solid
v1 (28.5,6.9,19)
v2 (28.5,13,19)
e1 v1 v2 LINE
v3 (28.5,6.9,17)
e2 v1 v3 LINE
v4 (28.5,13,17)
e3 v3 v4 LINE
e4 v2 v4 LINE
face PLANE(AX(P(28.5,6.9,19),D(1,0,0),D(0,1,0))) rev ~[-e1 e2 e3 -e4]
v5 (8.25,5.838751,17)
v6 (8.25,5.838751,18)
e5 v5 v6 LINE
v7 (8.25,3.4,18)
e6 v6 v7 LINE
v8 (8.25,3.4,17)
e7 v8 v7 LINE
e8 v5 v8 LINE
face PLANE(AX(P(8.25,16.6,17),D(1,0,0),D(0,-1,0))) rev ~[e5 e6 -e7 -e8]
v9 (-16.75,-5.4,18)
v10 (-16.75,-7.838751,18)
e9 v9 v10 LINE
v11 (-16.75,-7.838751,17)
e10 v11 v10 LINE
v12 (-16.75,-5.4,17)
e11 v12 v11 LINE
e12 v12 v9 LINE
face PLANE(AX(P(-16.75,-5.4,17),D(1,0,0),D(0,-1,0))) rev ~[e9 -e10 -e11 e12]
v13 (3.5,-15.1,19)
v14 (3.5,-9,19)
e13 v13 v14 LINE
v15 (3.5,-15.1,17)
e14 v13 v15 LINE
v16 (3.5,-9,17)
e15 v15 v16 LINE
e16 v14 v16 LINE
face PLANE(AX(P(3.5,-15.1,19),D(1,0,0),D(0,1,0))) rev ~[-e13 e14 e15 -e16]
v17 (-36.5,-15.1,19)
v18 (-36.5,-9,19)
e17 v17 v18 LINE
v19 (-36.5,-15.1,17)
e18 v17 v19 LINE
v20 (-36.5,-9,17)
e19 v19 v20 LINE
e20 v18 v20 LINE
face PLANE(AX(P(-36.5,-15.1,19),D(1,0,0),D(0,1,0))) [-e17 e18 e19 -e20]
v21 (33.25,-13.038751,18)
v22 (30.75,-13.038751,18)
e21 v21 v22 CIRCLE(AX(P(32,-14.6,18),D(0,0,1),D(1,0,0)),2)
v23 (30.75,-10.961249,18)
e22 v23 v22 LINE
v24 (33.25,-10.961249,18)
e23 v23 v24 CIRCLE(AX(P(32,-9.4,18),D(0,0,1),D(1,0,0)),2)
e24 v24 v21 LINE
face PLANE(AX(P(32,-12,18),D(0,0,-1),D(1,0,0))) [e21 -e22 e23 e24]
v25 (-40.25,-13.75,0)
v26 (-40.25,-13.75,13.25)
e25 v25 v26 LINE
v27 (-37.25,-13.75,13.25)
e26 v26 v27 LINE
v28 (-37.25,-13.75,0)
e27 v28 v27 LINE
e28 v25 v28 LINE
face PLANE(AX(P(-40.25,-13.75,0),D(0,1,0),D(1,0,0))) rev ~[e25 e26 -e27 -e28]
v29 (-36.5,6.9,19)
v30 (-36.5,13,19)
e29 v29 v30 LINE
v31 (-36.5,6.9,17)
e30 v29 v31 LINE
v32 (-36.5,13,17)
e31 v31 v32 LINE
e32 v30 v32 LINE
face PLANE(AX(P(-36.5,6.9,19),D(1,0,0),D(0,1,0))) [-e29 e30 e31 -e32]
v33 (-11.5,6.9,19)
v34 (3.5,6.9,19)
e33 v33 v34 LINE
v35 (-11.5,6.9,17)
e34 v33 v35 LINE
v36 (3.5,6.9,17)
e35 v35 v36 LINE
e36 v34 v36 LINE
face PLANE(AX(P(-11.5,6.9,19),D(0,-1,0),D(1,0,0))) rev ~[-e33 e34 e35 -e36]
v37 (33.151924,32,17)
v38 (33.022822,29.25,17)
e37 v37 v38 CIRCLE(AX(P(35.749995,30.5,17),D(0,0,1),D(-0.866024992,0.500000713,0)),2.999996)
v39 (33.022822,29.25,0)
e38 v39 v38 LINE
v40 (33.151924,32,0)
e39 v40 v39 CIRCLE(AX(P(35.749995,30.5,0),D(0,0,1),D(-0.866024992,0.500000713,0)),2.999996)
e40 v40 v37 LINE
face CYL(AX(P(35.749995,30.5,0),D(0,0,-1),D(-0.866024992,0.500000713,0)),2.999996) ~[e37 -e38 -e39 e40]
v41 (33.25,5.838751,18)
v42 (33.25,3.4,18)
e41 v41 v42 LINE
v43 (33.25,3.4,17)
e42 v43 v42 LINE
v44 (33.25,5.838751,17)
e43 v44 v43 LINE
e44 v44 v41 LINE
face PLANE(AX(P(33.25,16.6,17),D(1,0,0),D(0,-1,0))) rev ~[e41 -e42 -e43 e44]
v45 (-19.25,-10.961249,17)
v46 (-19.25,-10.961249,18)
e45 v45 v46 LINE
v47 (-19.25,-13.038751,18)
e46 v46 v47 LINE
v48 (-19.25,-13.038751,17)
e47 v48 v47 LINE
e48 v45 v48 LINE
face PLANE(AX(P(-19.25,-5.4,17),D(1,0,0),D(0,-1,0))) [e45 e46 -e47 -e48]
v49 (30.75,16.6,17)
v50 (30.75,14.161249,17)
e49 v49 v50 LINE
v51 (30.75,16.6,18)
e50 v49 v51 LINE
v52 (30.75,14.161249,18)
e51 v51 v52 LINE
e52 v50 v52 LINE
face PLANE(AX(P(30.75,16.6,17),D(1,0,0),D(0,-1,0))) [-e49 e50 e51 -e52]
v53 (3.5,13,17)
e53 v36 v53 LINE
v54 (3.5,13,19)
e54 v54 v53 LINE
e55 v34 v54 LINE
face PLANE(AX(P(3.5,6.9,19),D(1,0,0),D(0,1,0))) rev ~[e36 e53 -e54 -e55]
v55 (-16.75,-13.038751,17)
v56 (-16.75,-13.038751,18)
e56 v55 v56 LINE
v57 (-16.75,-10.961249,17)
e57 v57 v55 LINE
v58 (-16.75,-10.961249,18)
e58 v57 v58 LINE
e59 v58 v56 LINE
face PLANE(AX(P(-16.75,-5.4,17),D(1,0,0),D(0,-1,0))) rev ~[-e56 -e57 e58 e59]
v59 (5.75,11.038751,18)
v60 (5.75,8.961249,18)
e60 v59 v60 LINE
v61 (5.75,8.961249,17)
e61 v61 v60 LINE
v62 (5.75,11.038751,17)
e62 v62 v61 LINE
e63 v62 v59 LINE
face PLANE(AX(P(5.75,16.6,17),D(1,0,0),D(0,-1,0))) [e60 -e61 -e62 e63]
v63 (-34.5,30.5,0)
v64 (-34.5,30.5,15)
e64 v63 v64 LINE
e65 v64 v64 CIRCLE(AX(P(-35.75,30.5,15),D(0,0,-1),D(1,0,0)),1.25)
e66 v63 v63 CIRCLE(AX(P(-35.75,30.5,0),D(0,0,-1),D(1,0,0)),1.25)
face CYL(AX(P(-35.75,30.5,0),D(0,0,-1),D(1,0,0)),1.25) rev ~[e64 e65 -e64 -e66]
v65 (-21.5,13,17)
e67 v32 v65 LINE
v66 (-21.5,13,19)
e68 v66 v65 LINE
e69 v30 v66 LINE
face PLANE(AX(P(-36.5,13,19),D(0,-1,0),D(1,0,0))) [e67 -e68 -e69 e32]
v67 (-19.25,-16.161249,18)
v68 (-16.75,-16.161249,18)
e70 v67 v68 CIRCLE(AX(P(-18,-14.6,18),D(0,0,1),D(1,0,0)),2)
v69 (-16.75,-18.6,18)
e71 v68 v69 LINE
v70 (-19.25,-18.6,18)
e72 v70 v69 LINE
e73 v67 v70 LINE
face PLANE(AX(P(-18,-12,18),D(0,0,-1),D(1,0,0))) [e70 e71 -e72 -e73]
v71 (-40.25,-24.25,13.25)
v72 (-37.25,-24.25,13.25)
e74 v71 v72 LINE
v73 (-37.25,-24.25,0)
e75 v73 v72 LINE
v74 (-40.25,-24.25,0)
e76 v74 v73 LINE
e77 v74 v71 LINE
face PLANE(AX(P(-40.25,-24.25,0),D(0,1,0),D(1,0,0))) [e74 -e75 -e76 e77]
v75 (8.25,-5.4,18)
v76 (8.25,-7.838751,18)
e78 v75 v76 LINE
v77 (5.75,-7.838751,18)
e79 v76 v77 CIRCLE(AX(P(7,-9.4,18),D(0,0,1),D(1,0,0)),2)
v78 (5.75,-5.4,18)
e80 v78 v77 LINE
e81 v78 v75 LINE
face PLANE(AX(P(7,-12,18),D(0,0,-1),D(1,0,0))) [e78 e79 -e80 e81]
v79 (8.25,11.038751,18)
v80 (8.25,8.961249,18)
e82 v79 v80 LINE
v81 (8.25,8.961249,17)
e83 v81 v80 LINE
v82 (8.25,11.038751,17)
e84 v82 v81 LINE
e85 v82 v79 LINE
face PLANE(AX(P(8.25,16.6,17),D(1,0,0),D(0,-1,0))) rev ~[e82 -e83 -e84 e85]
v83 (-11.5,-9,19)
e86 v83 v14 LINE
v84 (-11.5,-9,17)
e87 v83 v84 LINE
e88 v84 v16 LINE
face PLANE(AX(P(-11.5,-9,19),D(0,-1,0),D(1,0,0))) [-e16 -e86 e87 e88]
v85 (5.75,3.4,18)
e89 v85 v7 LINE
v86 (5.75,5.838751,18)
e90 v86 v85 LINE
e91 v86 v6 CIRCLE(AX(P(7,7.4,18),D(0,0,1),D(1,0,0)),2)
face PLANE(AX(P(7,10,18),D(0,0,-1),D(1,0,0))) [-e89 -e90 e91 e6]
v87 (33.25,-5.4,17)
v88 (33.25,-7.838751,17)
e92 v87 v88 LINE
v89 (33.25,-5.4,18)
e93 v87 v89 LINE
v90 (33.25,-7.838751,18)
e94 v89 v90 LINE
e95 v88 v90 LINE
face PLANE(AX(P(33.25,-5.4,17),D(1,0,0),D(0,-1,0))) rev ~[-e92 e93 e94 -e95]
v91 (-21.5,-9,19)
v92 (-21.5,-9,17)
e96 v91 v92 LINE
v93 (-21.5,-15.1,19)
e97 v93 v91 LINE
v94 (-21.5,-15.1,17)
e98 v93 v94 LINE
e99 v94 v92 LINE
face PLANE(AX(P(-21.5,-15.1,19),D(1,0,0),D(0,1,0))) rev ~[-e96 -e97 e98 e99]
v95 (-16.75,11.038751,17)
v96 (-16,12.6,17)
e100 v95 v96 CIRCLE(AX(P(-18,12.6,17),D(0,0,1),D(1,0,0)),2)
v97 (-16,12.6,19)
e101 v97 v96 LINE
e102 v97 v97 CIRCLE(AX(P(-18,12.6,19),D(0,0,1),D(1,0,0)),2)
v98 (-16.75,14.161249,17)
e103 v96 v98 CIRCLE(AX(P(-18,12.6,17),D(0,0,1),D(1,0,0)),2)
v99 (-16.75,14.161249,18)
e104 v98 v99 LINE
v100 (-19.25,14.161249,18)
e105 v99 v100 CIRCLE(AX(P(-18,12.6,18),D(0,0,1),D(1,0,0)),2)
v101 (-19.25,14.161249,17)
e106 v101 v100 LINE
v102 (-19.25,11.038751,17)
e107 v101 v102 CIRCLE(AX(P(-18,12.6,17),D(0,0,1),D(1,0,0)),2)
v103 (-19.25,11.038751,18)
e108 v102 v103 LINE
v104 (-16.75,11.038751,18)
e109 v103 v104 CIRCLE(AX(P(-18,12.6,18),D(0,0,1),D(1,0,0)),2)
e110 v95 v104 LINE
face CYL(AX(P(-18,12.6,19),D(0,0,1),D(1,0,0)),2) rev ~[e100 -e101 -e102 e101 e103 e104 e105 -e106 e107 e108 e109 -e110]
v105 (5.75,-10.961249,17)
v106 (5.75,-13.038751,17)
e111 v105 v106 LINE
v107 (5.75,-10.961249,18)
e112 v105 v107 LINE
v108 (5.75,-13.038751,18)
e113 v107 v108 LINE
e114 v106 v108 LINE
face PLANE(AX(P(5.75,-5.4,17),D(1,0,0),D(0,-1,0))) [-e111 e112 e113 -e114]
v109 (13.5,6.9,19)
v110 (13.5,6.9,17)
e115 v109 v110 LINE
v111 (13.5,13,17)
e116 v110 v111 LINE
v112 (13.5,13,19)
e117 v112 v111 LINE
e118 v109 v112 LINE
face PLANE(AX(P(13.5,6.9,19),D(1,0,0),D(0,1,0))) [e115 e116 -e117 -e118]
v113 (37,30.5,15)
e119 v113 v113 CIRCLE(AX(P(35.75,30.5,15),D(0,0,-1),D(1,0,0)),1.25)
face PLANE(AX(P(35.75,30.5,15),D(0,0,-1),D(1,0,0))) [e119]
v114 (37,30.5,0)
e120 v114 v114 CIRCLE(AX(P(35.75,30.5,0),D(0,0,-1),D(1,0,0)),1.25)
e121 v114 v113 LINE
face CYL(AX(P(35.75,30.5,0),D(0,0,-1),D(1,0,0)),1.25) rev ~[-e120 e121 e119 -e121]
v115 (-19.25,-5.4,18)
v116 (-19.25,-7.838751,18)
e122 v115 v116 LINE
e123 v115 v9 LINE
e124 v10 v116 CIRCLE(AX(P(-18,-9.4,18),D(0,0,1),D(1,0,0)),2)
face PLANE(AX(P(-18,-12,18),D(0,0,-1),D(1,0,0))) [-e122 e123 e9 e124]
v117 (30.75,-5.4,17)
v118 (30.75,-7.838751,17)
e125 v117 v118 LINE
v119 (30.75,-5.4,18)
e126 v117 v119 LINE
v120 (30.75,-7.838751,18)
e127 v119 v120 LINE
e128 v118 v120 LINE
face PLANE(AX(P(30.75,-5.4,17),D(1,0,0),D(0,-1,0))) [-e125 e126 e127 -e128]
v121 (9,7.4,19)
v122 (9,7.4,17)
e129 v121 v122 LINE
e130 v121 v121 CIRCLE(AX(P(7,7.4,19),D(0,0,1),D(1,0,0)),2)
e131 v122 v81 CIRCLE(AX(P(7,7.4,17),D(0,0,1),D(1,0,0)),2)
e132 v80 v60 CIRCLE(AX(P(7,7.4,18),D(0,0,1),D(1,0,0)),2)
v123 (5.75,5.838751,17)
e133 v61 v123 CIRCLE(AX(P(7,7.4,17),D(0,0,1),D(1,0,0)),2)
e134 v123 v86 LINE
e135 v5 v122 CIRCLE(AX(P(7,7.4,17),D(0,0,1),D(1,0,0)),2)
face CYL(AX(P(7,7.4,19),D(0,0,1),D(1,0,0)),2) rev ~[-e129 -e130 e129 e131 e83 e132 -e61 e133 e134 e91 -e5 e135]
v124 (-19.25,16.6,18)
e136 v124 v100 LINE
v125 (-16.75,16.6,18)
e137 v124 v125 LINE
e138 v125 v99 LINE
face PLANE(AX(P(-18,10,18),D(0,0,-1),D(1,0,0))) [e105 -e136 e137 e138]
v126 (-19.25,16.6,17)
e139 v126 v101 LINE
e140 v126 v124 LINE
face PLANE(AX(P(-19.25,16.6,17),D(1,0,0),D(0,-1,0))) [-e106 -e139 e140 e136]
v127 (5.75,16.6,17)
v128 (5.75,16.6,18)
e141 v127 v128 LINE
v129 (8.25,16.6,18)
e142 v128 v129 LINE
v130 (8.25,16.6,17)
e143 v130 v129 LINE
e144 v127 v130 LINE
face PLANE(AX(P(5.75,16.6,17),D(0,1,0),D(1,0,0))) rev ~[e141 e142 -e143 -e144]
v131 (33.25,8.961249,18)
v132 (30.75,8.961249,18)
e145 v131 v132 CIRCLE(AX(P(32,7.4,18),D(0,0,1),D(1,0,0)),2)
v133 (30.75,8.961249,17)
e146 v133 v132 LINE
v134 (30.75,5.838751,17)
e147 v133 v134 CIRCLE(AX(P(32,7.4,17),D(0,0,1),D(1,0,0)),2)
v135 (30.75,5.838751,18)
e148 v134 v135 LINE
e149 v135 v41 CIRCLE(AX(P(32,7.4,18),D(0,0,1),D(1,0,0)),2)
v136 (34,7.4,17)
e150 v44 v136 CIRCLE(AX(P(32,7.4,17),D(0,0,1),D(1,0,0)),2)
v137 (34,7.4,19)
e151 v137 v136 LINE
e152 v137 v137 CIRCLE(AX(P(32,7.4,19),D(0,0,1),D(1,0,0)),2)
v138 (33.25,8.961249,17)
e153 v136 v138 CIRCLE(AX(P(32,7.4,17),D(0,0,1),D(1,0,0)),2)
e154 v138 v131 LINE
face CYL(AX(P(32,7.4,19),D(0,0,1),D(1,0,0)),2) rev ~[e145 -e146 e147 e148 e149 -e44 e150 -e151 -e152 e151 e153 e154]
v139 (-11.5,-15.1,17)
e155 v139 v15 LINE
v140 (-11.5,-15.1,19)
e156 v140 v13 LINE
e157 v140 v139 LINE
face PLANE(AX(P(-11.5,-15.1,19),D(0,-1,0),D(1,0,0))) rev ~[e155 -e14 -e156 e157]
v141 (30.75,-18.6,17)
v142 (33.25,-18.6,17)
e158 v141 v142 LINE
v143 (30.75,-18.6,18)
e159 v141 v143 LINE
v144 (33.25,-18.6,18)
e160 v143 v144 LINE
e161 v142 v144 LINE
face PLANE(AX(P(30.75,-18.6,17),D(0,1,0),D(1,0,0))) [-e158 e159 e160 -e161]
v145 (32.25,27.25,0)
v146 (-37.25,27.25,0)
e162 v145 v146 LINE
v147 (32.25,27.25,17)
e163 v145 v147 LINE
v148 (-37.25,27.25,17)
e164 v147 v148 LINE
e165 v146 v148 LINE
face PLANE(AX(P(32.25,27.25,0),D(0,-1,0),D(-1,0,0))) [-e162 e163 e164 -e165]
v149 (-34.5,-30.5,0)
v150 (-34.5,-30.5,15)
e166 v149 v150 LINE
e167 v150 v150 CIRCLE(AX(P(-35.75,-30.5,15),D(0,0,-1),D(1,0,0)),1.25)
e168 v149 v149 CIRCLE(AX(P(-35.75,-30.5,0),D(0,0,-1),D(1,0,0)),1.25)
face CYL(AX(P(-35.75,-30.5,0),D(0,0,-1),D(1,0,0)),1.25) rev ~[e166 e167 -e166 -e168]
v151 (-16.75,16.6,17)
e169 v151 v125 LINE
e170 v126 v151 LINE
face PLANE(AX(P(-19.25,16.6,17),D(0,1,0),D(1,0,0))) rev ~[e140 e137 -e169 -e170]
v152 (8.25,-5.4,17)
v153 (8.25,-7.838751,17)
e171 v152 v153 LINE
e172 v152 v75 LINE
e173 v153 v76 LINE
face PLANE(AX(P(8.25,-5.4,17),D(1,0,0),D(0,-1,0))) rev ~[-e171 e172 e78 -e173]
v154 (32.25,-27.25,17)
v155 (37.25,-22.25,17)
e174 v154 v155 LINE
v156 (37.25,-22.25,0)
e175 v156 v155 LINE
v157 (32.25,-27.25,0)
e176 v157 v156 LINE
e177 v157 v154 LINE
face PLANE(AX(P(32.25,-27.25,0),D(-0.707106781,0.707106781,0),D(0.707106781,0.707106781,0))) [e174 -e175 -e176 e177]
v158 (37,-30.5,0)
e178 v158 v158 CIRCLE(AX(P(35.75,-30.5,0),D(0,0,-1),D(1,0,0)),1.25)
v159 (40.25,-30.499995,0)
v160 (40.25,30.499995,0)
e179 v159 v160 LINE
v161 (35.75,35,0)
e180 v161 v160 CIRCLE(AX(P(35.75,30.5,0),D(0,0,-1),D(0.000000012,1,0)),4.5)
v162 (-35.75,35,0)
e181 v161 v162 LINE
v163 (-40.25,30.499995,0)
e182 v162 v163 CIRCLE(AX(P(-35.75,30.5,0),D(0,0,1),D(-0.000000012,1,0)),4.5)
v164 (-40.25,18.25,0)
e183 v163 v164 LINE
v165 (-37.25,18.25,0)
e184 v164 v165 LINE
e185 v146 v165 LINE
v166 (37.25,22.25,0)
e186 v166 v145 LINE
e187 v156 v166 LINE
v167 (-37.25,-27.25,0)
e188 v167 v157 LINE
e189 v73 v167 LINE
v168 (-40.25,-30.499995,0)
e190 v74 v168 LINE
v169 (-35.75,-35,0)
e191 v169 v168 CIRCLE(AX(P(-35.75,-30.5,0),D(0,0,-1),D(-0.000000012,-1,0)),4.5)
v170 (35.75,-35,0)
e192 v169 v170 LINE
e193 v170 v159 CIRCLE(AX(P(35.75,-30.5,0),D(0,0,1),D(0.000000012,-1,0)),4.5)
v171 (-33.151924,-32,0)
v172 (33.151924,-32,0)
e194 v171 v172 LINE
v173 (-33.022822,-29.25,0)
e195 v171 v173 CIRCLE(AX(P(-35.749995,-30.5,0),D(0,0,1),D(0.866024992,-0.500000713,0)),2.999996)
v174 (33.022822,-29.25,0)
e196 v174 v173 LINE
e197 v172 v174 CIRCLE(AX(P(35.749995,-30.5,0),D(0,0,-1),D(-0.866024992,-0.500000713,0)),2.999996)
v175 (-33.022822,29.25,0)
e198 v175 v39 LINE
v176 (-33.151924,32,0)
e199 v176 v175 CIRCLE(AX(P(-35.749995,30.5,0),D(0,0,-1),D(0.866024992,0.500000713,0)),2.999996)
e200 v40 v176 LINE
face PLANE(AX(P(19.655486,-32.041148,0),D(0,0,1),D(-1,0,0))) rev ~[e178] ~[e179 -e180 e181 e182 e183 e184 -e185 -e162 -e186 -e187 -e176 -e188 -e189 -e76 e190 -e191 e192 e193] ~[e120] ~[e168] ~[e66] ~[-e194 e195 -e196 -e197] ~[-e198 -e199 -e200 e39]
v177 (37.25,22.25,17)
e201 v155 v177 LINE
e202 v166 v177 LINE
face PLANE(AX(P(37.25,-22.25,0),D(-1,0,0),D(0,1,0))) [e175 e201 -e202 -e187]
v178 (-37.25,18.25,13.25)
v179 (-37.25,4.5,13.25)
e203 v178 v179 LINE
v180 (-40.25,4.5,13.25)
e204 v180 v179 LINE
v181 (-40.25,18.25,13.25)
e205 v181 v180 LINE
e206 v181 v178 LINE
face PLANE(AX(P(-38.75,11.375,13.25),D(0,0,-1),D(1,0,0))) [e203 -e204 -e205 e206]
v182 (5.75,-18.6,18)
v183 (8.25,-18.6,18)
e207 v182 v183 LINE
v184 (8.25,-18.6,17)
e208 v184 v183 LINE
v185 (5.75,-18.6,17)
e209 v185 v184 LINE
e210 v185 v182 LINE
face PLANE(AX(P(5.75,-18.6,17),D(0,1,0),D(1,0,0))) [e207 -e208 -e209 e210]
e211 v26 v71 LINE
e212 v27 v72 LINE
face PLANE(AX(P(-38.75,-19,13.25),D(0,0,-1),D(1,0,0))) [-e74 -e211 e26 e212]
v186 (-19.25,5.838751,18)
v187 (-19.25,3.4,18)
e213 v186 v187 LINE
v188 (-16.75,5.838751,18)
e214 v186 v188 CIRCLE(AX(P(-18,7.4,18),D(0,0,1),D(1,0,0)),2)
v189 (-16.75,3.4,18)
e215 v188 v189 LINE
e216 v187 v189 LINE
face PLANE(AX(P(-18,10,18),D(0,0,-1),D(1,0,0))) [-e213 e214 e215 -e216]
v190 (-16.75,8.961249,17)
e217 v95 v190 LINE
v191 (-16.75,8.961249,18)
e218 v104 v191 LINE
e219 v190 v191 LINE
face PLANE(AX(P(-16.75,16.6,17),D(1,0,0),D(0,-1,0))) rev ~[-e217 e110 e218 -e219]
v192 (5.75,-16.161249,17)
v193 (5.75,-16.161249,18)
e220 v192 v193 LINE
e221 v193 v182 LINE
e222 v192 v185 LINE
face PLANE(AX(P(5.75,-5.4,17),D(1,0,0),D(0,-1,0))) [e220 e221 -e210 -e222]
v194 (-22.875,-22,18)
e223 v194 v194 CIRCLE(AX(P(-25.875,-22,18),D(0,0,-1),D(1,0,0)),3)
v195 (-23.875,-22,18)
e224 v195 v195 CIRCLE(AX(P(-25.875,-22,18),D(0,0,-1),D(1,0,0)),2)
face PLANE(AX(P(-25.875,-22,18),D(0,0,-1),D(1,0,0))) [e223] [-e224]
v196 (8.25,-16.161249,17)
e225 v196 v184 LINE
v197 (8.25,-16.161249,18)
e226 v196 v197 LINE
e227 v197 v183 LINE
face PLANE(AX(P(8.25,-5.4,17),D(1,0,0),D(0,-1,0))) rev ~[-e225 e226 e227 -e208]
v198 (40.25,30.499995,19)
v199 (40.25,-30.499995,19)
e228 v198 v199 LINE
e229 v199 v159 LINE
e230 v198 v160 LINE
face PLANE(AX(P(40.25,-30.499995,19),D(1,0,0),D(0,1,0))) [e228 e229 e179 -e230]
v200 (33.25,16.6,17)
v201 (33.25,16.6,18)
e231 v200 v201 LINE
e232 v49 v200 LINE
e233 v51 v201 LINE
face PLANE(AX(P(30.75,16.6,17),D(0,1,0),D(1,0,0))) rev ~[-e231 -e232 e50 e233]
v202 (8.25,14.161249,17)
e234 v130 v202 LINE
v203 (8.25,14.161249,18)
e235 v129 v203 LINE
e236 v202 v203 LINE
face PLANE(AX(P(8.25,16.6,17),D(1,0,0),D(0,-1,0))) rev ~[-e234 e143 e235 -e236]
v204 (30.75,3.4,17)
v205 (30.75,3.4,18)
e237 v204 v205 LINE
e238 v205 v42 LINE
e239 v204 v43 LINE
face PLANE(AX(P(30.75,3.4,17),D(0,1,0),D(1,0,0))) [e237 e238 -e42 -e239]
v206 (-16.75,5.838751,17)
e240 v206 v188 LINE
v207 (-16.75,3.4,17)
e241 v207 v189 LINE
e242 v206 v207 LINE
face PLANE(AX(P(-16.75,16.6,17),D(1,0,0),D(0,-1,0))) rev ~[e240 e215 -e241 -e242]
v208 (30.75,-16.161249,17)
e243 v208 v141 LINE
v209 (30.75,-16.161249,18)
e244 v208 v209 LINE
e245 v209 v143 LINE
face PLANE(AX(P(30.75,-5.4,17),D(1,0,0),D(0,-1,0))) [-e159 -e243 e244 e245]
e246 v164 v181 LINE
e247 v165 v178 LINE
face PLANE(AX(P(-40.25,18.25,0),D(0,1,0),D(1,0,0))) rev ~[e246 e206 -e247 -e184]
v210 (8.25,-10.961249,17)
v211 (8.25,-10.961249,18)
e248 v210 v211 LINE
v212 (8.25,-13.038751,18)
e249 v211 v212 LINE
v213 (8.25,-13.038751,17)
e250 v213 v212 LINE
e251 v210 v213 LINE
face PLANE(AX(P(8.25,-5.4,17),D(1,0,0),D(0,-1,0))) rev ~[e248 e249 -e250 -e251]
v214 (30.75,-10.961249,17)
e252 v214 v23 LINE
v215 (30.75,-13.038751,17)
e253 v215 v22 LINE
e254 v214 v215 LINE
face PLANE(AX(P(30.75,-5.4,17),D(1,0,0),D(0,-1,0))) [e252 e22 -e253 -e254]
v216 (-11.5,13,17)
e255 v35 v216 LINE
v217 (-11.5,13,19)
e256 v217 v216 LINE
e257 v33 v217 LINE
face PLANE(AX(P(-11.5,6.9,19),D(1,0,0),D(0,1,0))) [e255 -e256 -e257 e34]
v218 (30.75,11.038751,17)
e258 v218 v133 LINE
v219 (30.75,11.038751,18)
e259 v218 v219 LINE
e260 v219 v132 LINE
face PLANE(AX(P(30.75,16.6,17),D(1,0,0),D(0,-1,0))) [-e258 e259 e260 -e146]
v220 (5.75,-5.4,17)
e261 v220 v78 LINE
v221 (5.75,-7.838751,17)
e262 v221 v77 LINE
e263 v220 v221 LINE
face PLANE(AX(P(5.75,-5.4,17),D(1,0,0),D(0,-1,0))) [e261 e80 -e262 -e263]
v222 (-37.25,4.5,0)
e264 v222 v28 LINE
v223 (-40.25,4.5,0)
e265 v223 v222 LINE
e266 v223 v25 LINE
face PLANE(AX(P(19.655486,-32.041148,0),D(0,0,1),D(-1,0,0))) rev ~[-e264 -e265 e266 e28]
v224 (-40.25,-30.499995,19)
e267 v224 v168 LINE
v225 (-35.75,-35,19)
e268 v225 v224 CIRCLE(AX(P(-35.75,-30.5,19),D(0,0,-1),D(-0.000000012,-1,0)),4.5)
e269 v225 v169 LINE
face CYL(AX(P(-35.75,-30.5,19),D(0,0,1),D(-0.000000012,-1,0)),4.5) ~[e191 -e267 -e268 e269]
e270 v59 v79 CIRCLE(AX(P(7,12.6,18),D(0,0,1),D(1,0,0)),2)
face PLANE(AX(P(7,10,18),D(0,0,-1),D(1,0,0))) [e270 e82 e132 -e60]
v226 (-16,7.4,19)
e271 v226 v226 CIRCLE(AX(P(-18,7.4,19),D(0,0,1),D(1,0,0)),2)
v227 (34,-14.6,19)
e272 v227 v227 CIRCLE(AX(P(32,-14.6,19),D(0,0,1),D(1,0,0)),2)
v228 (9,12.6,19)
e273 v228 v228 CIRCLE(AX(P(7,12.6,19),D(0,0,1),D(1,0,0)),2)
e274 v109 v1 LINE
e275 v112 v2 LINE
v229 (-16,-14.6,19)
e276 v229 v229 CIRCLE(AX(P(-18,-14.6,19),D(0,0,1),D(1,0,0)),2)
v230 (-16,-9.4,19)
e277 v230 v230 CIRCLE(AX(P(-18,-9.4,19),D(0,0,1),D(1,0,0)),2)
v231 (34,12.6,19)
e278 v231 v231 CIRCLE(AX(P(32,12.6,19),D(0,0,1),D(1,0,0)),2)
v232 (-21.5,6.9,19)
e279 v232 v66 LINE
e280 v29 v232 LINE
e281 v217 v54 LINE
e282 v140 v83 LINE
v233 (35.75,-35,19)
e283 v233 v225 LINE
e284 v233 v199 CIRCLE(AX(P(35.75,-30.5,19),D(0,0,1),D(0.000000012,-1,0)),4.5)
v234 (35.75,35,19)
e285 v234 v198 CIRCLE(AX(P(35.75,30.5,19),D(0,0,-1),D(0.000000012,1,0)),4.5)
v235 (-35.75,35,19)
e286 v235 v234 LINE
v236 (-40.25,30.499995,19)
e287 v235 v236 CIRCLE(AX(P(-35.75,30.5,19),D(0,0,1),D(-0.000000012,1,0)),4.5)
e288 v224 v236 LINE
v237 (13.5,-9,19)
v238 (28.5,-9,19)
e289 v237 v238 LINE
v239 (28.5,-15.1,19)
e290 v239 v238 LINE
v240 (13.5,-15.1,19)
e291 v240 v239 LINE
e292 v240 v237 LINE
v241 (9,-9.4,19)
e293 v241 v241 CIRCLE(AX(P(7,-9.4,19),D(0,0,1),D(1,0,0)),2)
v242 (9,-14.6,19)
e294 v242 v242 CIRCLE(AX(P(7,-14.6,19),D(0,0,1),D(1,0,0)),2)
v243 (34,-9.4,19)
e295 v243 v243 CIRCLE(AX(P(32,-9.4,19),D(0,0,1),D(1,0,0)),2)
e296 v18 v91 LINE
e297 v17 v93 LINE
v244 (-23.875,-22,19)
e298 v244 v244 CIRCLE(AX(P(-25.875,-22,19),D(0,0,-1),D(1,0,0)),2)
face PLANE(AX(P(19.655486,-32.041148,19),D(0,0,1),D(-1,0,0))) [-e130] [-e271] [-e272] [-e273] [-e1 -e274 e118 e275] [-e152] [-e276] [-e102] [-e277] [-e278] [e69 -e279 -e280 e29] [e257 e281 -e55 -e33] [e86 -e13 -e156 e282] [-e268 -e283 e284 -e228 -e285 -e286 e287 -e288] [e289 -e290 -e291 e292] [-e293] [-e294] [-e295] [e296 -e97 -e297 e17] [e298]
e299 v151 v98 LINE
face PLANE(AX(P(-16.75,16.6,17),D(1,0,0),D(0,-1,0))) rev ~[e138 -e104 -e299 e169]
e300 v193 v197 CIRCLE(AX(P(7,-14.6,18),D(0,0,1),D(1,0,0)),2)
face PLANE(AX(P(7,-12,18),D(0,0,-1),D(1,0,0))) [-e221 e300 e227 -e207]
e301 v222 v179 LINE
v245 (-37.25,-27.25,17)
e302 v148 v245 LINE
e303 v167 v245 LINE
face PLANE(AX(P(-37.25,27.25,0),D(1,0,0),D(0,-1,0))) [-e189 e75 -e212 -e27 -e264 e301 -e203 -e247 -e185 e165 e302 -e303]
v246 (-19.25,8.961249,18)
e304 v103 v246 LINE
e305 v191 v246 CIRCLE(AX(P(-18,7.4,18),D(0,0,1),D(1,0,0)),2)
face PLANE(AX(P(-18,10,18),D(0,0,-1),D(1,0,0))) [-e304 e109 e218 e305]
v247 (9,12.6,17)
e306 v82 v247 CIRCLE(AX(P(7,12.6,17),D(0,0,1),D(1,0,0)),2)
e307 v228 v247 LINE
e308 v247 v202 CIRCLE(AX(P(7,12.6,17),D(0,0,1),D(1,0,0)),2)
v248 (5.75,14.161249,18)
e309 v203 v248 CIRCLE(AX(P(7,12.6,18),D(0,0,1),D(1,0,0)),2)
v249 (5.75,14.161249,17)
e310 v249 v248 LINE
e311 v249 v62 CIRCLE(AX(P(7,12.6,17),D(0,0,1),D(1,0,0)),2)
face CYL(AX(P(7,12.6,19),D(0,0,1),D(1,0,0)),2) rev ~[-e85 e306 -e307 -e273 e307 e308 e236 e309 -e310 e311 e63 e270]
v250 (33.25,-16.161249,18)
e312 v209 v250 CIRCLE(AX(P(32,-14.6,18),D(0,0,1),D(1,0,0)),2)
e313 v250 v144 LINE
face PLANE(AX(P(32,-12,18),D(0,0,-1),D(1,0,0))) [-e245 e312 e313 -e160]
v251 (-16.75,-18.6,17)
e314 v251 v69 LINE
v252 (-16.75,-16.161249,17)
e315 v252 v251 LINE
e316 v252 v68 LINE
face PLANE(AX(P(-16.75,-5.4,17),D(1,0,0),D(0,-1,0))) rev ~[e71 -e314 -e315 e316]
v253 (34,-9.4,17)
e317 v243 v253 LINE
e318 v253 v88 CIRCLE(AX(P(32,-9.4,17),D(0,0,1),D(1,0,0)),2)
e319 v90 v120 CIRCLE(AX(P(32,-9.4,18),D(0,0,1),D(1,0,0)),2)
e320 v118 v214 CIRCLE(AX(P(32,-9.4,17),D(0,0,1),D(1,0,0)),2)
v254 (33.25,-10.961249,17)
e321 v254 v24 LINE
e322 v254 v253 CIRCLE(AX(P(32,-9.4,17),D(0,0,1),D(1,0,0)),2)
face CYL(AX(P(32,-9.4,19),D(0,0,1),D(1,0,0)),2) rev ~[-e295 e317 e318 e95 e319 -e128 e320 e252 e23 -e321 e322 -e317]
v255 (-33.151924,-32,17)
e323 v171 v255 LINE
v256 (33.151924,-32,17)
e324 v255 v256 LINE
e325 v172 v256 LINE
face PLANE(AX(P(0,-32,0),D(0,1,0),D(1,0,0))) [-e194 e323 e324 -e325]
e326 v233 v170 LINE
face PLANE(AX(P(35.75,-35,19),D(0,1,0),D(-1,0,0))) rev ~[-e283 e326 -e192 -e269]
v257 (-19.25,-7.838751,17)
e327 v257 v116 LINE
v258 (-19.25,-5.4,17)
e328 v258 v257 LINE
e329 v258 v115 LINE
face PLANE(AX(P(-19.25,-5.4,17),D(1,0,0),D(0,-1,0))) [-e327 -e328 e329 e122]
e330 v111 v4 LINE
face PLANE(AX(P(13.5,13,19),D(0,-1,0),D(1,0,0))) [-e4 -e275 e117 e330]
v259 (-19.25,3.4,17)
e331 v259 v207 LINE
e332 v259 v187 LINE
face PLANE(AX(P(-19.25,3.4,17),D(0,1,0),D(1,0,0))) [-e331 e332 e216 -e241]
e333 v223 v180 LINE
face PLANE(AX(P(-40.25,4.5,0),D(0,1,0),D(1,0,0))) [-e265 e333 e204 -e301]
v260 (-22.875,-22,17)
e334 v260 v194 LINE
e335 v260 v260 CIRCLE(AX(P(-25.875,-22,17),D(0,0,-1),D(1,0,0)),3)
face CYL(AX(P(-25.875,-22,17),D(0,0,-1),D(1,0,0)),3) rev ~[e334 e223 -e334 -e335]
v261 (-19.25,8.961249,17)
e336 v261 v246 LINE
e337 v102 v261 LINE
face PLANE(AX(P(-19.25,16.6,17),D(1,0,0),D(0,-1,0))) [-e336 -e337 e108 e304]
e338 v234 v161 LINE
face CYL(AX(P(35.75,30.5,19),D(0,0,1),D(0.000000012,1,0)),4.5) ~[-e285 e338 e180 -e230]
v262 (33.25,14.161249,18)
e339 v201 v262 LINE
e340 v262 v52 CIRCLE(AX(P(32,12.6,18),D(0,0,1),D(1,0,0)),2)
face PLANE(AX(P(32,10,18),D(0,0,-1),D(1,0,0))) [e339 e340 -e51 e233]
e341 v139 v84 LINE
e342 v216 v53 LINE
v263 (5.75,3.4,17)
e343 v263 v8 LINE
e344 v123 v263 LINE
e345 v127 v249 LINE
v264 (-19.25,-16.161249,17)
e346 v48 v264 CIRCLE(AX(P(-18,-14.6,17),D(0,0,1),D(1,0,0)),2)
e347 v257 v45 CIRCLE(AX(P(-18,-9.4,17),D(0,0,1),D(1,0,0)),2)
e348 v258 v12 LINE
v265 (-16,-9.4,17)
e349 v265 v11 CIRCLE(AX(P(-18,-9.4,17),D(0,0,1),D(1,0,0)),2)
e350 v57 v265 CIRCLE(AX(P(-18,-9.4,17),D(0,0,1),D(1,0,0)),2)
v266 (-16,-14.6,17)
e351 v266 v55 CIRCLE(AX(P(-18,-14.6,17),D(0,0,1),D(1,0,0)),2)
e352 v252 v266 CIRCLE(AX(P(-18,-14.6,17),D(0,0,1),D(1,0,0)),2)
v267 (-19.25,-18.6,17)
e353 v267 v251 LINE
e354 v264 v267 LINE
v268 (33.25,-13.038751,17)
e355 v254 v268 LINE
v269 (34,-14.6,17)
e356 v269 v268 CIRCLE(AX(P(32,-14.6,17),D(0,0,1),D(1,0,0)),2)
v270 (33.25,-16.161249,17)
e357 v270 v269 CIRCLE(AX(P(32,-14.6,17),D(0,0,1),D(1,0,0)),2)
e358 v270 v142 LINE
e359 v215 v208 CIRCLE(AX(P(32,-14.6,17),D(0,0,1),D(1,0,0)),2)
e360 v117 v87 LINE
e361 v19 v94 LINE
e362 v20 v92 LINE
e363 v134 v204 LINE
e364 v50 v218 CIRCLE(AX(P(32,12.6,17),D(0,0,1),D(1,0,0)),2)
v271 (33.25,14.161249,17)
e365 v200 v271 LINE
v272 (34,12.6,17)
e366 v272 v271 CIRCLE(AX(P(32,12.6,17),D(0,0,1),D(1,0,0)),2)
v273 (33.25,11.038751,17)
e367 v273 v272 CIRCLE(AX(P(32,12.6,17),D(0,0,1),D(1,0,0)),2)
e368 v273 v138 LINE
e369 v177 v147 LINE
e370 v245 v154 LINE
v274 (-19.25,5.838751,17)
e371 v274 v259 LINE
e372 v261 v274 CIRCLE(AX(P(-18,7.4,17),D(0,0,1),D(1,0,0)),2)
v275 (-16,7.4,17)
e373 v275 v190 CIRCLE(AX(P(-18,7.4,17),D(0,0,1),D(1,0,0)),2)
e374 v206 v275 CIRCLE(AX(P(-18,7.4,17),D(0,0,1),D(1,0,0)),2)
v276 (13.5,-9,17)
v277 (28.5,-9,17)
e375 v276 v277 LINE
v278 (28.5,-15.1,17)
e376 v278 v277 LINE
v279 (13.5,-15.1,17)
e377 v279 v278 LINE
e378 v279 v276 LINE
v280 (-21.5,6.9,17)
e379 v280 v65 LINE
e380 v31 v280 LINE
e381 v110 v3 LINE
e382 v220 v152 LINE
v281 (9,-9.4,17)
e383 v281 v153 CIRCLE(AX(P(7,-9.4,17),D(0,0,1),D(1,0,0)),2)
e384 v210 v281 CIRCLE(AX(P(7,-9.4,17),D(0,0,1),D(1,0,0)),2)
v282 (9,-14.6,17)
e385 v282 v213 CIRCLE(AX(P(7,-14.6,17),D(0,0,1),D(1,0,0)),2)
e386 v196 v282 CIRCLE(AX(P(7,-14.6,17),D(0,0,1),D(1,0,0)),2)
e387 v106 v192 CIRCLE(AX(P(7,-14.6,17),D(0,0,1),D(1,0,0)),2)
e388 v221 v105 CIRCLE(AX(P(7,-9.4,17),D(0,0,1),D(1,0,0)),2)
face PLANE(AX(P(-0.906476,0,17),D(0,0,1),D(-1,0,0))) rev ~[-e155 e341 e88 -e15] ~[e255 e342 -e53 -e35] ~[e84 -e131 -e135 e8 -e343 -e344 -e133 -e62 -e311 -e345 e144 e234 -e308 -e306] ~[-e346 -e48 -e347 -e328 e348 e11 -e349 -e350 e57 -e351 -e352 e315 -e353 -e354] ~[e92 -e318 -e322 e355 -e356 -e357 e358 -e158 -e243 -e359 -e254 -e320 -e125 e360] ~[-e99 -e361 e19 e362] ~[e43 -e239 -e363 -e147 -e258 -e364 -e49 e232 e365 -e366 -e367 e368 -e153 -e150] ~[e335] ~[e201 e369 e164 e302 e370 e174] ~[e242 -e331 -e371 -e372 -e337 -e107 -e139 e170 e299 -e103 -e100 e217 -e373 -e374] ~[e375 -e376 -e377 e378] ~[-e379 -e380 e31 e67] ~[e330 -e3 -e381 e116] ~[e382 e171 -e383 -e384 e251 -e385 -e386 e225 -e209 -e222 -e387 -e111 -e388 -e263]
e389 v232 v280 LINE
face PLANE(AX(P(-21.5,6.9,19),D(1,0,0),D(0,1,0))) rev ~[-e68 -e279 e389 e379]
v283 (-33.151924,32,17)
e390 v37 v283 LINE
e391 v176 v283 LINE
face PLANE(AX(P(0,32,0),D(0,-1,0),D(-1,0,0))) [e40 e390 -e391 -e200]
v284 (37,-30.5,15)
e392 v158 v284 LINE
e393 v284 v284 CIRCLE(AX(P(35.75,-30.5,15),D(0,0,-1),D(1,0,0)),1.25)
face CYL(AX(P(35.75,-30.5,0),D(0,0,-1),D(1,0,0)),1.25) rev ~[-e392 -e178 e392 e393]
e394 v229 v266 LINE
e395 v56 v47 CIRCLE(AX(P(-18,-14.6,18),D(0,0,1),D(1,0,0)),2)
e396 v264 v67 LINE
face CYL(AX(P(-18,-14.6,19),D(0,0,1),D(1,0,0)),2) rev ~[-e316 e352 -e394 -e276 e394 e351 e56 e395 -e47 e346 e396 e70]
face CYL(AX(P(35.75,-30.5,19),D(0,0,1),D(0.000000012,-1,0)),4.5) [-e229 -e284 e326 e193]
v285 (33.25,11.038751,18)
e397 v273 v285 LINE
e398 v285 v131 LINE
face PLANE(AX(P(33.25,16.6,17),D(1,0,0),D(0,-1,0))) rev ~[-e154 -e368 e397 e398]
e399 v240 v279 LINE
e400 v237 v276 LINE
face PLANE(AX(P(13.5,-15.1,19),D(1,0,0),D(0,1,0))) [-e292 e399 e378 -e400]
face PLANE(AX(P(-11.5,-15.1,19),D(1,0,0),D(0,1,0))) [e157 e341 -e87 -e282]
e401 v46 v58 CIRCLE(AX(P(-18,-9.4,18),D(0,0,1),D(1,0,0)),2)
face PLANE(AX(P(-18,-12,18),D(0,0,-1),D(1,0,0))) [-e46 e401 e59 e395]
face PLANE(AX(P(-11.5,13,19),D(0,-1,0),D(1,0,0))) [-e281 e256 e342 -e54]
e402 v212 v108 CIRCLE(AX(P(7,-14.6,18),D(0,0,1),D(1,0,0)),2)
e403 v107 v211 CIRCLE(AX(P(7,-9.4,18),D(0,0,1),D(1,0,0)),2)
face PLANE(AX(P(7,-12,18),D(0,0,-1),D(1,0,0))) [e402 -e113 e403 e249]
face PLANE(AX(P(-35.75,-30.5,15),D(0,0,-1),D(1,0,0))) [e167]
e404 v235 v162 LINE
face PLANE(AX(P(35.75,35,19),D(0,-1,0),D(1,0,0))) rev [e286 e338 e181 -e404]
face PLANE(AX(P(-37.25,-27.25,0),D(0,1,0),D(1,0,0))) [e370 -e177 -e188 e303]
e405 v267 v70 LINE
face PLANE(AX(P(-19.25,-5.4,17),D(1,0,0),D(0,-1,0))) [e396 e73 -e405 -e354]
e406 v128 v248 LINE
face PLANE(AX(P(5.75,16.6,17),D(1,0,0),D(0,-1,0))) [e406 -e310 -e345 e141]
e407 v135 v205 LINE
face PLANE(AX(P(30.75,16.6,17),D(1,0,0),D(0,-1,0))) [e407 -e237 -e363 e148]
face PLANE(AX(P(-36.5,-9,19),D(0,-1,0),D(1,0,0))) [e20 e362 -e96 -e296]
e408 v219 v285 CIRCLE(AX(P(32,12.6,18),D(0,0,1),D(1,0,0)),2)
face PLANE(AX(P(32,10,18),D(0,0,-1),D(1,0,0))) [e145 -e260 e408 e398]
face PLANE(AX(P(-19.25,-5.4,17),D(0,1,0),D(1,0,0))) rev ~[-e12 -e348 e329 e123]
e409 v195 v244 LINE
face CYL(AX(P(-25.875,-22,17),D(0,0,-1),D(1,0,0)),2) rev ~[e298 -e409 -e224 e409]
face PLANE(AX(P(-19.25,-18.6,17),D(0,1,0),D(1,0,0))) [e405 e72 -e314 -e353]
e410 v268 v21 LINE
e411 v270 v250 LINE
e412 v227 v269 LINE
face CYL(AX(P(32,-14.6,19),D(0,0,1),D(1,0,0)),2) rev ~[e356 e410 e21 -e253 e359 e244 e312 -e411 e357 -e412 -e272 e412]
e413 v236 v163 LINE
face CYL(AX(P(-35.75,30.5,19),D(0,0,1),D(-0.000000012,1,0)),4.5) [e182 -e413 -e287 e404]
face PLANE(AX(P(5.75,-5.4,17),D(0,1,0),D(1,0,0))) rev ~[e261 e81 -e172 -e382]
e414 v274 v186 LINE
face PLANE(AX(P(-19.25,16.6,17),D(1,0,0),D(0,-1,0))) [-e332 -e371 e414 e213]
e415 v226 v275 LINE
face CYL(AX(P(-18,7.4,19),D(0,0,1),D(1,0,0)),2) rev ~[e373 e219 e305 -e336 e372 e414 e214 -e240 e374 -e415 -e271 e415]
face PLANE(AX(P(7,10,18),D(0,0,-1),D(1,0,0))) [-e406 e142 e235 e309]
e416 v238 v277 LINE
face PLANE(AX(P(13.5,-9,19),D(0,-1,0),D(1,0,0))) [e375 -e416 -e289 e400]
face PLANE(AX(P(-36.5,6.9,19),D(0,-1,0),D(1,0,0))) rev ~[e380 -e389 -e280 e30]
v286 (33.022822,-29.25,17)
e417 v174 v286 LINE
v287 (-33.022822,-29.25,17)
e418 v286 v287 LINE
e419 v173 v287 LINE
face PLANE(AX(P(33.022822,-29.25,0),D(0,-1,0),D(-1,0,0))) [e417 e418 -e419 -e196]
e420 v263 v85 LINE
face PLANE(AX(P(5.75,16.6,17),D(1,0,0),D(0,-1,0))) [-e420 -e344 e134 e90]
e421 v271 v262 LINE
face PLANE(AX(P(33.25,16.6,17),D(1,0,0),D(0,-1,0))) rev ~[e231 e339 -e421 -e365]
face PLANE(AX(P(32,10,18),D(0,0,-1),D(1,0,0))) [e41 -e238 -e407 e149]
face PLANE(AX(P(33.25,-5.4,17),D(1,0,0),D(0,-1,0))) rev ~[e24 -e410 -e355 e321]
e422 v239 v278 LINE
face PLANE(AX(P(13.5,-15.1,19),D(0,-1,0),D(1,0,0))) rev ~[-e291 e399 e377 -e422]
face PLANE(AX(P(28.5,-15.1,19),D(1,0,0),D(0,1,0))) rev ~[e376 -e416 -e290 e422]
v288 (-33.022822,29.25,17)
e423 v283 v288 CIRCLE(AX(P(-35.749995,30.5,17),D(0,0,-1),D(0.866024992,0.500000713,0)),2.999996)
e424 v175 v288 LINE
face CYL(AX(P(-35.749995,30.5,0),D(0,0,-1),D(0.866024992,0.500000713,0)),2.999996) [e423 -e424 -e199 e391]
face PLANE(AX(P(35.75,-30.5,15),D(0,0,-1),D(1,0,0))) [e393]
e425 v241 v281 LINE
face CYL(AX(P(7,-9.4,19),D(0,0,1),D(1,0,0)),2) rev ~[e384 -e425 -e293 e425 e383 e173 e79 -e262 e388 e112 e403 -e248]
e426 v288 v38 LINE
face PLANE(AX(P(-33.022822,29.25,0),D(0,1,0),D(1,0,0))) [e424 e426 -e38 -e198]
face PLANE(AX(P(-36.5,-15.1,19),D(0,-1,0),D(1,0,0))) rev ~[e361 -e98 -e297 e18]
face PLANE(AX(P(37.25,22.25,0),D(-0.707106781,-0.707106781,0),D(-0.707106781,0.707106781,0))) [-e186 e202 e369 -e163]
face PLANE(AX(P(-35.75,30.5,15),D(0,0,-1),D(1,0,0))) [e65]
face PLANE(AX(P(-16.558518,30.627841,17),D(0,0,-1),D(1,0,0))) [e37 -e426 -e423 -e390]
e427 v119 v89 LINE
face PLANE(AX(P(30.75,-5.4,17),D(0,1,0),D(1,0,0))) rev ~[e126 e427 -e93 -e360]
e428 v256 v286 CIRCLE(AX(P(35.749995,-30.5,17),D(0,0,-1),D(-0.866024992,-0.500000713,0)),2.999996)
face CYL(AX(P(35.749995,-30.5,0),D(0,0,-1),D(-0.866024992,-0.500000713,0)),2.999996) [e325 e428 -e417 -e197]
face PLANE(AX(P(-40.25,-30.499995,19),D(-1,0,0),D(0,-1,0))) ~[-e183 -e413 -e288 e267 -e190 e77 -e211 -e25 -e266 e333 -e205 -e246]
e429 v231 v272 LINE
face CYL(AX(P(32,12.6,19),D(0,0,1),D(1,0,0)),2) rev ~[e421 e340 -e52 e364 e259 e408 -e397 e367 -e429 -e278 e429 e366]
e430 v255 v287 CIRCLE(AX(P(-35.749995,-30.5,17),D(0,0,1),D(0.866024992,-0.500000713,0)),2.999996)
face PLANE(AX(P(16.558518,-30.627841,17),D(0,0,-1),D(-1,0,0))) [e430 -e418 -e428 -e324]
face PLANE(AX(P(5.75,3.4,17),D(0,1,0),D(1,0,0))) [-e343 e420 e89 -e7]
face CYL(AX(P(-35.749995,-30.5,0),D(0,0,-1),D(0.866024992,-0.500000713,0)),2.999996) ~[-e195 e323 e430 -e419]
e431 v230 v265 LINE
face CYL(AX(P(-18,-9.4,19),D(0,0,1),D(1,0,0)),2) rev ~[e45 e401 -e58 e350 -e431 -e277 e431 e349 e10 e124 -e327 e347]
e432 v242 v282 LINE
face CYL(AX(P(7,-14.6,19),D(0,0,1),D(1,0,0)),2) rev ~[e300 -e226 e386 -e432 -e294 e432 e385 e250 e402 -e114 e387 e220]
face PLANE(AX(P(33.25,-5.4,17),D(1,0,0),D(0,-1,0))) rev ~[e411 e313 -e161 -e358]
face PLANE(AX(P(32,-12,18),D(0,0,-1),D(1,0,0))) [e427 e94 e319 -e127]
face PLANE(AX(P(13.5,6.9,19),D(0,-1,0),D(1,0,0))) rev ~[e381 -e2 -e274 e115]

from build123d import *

# Parameters (mm, degrees)
SKETCH_W                           = 80.5
SKETCH_H                           = 58.5
PAD_DEPTH                          = 19
POCKET_DEPTH                       = 17
PAD001_DEPTH                       = 19
POLARPATTERN_COUNT                 = 2
POLARPATTERN_ANGLE                 = 180
POCKET001_DEPTH                    = 17
POLARPATTERN001_COUNT              = 2
POLARPATTERN001_ANGLE              = 180
SKETCH004_R                        = 1.25
POCKET002_DEPTH                    = 15
SKETCH005_W                        = 3
SKETCH005_H                        = 13.75
SKETCH005_H_2                      = 10.5
POCKET003_DEPTH                    = 13.25
SKETCH006_R                        = 2
SKETCH006_W                        = 15
SKETCH006_H                        = 6.1
POCKET004_DEPTH                    = 235.715097
SKETCH006_LINEARPATTERN_2_R        = 2
SKETCH006_LINEARPATTERN_2_W        = 15
SKETCH006_LINEARPATTERN_2_H        = 6.1
POCKET004_LINEARPATTERN_2_DEPTH    = 235.715097
SKETCH006_LINEARPATTERN_3_R        = 2
SKETCH006_LINEARPATTERN_3_W        = 15
SKETCH006_LINEARPATTERN_3_H        = 6.1
POCKET004_LINEARPATTERN_3_DEPTH    = 235.715097
LINEARPATTERN001_COUNT             = 2
LINEARPATTERN001_PITCH             = 22
SKETCH007_R                        = 2
POCKET005_DEPTH                    = 2.001
SKETCH008_W                        = 2.5
SKETCH008_H                        = 13.2
POCKET006_DEPTH                    = 1
SKETCH008_LINEARPATTERN002_2_W     = 2.5
SKETCH008_LINEARPATTERN002_2_H     = 13.2
POCKET006_LINEARPATTERN002_2_DEPTH = 1
SKETCH008_LINEARPATTERN002_3_W     = 2.5
SKETCH008_LINEARPATTERN002_3_H     = 13.2
POCKET006_LINEARPATTERN002_3_DEPTH = 1
LINEARPATTERN003_COUNT             = 2
LINEARPATTERN003_PITCH             = 22
SKETCH009_R                        = 3
POCKET007_DEPTH                    = 1


with BuildPart() as part:
    # Sketch → Pad (new body)
    with BuildSketch(Plane.XY):
        Rectangle(SKETCH_W, SKETCH_H)
    extrude(amount=PAD_DEPTH)

    # Sketch001 (on Face5 of Pad) → Pocket (cut)
    with BuildSketch(Plane(origin=(0, 0, 0), x_dir=(1, 0, 0), z_dir=(0, 0, -1))):
        Polygon((-37.25, 27.25), (32.25, 27.25), (37.25, 22.25), (37.25, -22.25), (32.25, -27.25), (-37.25, -27.25), align=None)
    extrude(amount=-POCKET_DEPTH, mode=Mode.SUBTRACT)

    # Sketch002 (on Face5 of Pocket) → Pad001 (join)
    with BuildSketch(Plane.XY.offset(19)):
        with BuildLine():
            ThreePointArc((-35.75, 35), (-38.931982, 33.681979), (-40.25, 30.499995))
            Line((-40.25, 30.499995), (-40.25, 29.25))
            Line((-40.25, 29.25), (0, 29.25))
            Line((0, 35), (0, 29.25))
            Line((-35.75, 35), (0, 35))
        make_face()
    pad001 = extrude(amount=-PAD001_DEPTH)

    # Mirrored: Pad001 across Sketch002 V_Axis
    add(pad001.mirror(Plane(origin=(0, 0, 19), x_dir=(0, 0, 1), z_dir=(1, 0, 0))))

    # Mirrored001: Pad001 across XZ
    add(pad001.mirror(Plane.XZ))

    # PolarPattern: Pad001 ×2 about axis
    polarpattern_axis = Axis((0, 0, 0), (0, 0, 1))
    for i in range(1, POLARPATTERN_COUNT):
        add(pad001.rotate(polarpattern_axis, i * POLARPATTERN_ANGLE / (POLARPATTERN_COUNT - 1)))

    # Sketch003 (on Face6 of Pad001) → Pocket001 (cut)
    with BuildSketch(Plane(origin=(0, 0, 0), x_dir=(1, 0, 0), z_dir=(0, 0, -1))):
        with BuildLine():
            Line((0, -32), (0, -29.25))
            Line((-33.022822, -29.25), (0, -29.25))
            ThreePointArc((-33.151924, -32), (-32.7533, -30.640683), (-33.022822, -29.25))
            Line((0, -32), (-33.151924, -32))
        make_face()
    pocket001 = extrude(amount=-POCKET001_DEPTH, mode=Mode.SUBTRACT)

    # Mirrored002: Pocket001 across YZ
    add(pocket001.mirror(Plane.YZ), mode=Mode.SUBTRACT)

    # Mirrored003: Pocket001 across XZ
    add(pocket001.mirror(Plane.XZ), mode=Mode.SUBTRACT)

    # PolarPattern001: Pocket001 ×2 about axis
    polarpattern001_axis = Axis((0, 0, 0), (0, 0, -1))
    for i in range(1, POLARPATTERN001_COUNT):
        add(pocket001.rotate(polarpattern001_axis, i * POLARPATTERN001_ANGLE / (POLARPATTERN001_COUNT - 1)), mode=Mode.SUBTRACT)

    # Sketch004 (on Face11 of PolarPattern001) → Pocket002 (cut)
    with BuildSketch(Plane(origin=(0, 0, 0), x_dir=(1, 0, 0), z_dir=(0, 0, -1))):
        with Locations((-35.75, -30.5)):
            Circle(SKETCH004_R)
        with Locations((-35.75, 30.5)):
            Circle(SKETCH004_R)
        with Locations((35.75, 30.5)):
            Circle(SKETCH004_R)
        with Locations((35.75, -30.5)):
            Circle(SKETCH004_R)
    extrude(amount=-POCKET002_DEPTH, mode=Mode.SUBTRACT)

    # Sketch005 (on Face1 of Pocket002) → Pocket003 (cut)
    with BuildSketch(Plane(origin=(0, 0, 0), x_dir=(1, 0, 0), z_dir=(0, 0, -1))):
        with Locations((-38.75, -11.375)):
            Rectangle(SKETCH005_W, SKETCH005_H)
        with Locations((-38.75, 19)):
            Rectangle(SKETCH005_W, SKETCH005_H_2)
    extrude(amount=-POCKET003_DEPTH, mode=Mode.SUBTRACT)

    # Sketch006 (on Face26 of Pocket003) → Pocket004 (cut, through all)
    with BuildSketch(Plane.XY.offset(19)):
        with Locations((-18, 12.6)):
            Circle(SKETCH006_R)
        with Locations((-18, 7.4)):
            Circle(SKETCH006_R)
        with Locations((-29, 9.95)):
            Rectangle(SKETCH006_W, SKETCH006_H)
    pocket004 = extrude(amount=-POCKET004_DEPTH, mode=Mode.SUBTRACT)

    # Sketch006 LinearPattern 2 → Pocket004 LinearPattern 2 (cut, through all)
    with BuildSketch(Plane(origin=(25, 0, 19), x_dir=(1, 0, 0), z_dir=(0, 0, 1))):
        with Locations((-18, 12.6)):
            Circle(SKETCH006_LINEARPATTERN_2_R)
        with Locations((-18, 7.4)):
            Circle(SKETCH006_LINEARPATTERN_2_R)
        with Locations((-29, 9.95)):
            Rectangle(SKETCH006_LINEARPATTERN_2_W, SKETCH006_LINEARPATTERN_2_H)
    pocket004_linearpattern_2 = extrude(amount=-POCKET004_LINEARPATTERN_2_DEPTH, mode=Mode.SUBTRACT)

    # Sketch006 LinearPattern 3 → Pocket004 LinearPattern 3 (cut, through all)
    with BuildSketch(Plane(origin=(50, 0, 19), x_dir=(1, 0, 0), z_dir=(0, 0, 1))):
        with Locations((-18, 12.6)):
            Circle(SKETCH006_LINEARPATTERN_3_R)
        with Locations((-18, 7.4)):
            Circle(SKETCH006_LINEARPATTERN_3_R)
        with Locations((-29, 9.95)):
            Rectangle(SKETCH006_LINEARPATTERN_3_W, SKETCH006_LINEARPATTERN_3_H)
    pocket004_linearpattern_3 = extrude(amount=-POCKET004_LINEARPATTERN_3_DEPTH, mode=Mode.SUBTRACT)

    # LinearPattern001: Pocket004, Pocket004 LinearPattern 2, Pocket004 LinearPattern 3 ×2
    with Locations(*[(0, -i * LINEARPATTERN001_PITCH, 0) for i in range(1, LINEARPATTERN001_COUNT)]):
        add(pocket004, mode=Mode.SUBTRACT)
        add(pocket004_linearpattern_2, mode=Mode.SUBTRACT)
        add(pocket004_linearpattern_3, mode=Mode.SUBTRACT)

    # Sketch007 (on Face28 of MultiTransform) → Pocket005 (cut, through all)
    with BuildSketch(Plane(origin=(0, 0, 17), x_dir=(1, 0, 0), z_dir=(0, 0, -1))):
        with Locations((-25.875, 22)):
            Circle(SKETCH007_R)
    extrude(amount=-POCKET005_DEPTH, mode=Mode.SUBTRACT)

    # Sketch008 (on Face28 of Pocket005) → Pocket006 (cut)
    with BuildSketch(Plane(origin=(0, 0, 17), x_dir=(1, 0, 0), z_dir=(0, 0, -1))):
        with Locations((-18, 12)):
            Rectangle(SKETCH008_W, SKETCH008_H)
    pocket006 = extrude(amount=-POCKET006_DEPTH, mode=Mode.SUBTRACT)

    # Sketch008 LinearPattern002 2 → Pocket006 LinearPattern002 2 (cut)
    with BuildSketch(Plane(origin=(25, 0, 17), x_dir=(1, 0, 0), z_dir=(0, 0, -1))):
        with Locations((-18, 12)):
            Rectangle(SKETCH008_LINEARPATTERN002_2_W, SKETCH008_LINEARPATTERN002_2_H)
    pocket006_linearpattern002_2 = extrude(amount=-POCKET006_LINEARPATTERN002_2_DEPTH, mode=Mode.SUBTRACT)

    # Sketch008 LinearPattern002 3 → Pocket006 LinearPattern002 3 (cut)
    with BuildSketch(Plane(origin=(50, 0, 17), x_dir=(1, 0, 0), z_dir=(0, 0, -1))):
        with Locations((-18, 12)):
            Rectangle(SKETCH008_LINEARPATTERN002_3_W, SKETCH008_LINEARPATTERN002_3_H)
    pocket006_linearpattern002_3 = extrude(amount=-POCKET006_LINEARPATTERN002_3_DEPTH, mode=Mode.SUBTRACT)

    # LinearPattern003: Pocket006, Pocket006 LinearPattern002 2, Pocket006 LinearPattern002 3 ×2
    with Locations(*[(0, i * LINEARPATTERN003_PITCH, 0) for i in range(1, LINEARPATTERN003_COUNT)]):
        add(pocket006, mode=Mode.SUBTRACT)
        add(pocket006_linearpattern002_2, mode=Mode.SUBTRACT)
        add(pocket006_linearpattern002_3, mode=Mode.SUBTRACT)

    # Sketch009 (on Face28 of MultiTransform001) → Pocket007 (cut)
    with BuildSketch(Plane(origin=(0, 0, 17), x_dir=(1, 0, 0), z_dir=(0, 0, -1))):
        with Locations((-25.875, 22)):
            Circle(SKETCH009_R)
    extrude(amount=-POCKET007_DEPTH, mode=Mode.SUBTRACT)


solid = part.part
